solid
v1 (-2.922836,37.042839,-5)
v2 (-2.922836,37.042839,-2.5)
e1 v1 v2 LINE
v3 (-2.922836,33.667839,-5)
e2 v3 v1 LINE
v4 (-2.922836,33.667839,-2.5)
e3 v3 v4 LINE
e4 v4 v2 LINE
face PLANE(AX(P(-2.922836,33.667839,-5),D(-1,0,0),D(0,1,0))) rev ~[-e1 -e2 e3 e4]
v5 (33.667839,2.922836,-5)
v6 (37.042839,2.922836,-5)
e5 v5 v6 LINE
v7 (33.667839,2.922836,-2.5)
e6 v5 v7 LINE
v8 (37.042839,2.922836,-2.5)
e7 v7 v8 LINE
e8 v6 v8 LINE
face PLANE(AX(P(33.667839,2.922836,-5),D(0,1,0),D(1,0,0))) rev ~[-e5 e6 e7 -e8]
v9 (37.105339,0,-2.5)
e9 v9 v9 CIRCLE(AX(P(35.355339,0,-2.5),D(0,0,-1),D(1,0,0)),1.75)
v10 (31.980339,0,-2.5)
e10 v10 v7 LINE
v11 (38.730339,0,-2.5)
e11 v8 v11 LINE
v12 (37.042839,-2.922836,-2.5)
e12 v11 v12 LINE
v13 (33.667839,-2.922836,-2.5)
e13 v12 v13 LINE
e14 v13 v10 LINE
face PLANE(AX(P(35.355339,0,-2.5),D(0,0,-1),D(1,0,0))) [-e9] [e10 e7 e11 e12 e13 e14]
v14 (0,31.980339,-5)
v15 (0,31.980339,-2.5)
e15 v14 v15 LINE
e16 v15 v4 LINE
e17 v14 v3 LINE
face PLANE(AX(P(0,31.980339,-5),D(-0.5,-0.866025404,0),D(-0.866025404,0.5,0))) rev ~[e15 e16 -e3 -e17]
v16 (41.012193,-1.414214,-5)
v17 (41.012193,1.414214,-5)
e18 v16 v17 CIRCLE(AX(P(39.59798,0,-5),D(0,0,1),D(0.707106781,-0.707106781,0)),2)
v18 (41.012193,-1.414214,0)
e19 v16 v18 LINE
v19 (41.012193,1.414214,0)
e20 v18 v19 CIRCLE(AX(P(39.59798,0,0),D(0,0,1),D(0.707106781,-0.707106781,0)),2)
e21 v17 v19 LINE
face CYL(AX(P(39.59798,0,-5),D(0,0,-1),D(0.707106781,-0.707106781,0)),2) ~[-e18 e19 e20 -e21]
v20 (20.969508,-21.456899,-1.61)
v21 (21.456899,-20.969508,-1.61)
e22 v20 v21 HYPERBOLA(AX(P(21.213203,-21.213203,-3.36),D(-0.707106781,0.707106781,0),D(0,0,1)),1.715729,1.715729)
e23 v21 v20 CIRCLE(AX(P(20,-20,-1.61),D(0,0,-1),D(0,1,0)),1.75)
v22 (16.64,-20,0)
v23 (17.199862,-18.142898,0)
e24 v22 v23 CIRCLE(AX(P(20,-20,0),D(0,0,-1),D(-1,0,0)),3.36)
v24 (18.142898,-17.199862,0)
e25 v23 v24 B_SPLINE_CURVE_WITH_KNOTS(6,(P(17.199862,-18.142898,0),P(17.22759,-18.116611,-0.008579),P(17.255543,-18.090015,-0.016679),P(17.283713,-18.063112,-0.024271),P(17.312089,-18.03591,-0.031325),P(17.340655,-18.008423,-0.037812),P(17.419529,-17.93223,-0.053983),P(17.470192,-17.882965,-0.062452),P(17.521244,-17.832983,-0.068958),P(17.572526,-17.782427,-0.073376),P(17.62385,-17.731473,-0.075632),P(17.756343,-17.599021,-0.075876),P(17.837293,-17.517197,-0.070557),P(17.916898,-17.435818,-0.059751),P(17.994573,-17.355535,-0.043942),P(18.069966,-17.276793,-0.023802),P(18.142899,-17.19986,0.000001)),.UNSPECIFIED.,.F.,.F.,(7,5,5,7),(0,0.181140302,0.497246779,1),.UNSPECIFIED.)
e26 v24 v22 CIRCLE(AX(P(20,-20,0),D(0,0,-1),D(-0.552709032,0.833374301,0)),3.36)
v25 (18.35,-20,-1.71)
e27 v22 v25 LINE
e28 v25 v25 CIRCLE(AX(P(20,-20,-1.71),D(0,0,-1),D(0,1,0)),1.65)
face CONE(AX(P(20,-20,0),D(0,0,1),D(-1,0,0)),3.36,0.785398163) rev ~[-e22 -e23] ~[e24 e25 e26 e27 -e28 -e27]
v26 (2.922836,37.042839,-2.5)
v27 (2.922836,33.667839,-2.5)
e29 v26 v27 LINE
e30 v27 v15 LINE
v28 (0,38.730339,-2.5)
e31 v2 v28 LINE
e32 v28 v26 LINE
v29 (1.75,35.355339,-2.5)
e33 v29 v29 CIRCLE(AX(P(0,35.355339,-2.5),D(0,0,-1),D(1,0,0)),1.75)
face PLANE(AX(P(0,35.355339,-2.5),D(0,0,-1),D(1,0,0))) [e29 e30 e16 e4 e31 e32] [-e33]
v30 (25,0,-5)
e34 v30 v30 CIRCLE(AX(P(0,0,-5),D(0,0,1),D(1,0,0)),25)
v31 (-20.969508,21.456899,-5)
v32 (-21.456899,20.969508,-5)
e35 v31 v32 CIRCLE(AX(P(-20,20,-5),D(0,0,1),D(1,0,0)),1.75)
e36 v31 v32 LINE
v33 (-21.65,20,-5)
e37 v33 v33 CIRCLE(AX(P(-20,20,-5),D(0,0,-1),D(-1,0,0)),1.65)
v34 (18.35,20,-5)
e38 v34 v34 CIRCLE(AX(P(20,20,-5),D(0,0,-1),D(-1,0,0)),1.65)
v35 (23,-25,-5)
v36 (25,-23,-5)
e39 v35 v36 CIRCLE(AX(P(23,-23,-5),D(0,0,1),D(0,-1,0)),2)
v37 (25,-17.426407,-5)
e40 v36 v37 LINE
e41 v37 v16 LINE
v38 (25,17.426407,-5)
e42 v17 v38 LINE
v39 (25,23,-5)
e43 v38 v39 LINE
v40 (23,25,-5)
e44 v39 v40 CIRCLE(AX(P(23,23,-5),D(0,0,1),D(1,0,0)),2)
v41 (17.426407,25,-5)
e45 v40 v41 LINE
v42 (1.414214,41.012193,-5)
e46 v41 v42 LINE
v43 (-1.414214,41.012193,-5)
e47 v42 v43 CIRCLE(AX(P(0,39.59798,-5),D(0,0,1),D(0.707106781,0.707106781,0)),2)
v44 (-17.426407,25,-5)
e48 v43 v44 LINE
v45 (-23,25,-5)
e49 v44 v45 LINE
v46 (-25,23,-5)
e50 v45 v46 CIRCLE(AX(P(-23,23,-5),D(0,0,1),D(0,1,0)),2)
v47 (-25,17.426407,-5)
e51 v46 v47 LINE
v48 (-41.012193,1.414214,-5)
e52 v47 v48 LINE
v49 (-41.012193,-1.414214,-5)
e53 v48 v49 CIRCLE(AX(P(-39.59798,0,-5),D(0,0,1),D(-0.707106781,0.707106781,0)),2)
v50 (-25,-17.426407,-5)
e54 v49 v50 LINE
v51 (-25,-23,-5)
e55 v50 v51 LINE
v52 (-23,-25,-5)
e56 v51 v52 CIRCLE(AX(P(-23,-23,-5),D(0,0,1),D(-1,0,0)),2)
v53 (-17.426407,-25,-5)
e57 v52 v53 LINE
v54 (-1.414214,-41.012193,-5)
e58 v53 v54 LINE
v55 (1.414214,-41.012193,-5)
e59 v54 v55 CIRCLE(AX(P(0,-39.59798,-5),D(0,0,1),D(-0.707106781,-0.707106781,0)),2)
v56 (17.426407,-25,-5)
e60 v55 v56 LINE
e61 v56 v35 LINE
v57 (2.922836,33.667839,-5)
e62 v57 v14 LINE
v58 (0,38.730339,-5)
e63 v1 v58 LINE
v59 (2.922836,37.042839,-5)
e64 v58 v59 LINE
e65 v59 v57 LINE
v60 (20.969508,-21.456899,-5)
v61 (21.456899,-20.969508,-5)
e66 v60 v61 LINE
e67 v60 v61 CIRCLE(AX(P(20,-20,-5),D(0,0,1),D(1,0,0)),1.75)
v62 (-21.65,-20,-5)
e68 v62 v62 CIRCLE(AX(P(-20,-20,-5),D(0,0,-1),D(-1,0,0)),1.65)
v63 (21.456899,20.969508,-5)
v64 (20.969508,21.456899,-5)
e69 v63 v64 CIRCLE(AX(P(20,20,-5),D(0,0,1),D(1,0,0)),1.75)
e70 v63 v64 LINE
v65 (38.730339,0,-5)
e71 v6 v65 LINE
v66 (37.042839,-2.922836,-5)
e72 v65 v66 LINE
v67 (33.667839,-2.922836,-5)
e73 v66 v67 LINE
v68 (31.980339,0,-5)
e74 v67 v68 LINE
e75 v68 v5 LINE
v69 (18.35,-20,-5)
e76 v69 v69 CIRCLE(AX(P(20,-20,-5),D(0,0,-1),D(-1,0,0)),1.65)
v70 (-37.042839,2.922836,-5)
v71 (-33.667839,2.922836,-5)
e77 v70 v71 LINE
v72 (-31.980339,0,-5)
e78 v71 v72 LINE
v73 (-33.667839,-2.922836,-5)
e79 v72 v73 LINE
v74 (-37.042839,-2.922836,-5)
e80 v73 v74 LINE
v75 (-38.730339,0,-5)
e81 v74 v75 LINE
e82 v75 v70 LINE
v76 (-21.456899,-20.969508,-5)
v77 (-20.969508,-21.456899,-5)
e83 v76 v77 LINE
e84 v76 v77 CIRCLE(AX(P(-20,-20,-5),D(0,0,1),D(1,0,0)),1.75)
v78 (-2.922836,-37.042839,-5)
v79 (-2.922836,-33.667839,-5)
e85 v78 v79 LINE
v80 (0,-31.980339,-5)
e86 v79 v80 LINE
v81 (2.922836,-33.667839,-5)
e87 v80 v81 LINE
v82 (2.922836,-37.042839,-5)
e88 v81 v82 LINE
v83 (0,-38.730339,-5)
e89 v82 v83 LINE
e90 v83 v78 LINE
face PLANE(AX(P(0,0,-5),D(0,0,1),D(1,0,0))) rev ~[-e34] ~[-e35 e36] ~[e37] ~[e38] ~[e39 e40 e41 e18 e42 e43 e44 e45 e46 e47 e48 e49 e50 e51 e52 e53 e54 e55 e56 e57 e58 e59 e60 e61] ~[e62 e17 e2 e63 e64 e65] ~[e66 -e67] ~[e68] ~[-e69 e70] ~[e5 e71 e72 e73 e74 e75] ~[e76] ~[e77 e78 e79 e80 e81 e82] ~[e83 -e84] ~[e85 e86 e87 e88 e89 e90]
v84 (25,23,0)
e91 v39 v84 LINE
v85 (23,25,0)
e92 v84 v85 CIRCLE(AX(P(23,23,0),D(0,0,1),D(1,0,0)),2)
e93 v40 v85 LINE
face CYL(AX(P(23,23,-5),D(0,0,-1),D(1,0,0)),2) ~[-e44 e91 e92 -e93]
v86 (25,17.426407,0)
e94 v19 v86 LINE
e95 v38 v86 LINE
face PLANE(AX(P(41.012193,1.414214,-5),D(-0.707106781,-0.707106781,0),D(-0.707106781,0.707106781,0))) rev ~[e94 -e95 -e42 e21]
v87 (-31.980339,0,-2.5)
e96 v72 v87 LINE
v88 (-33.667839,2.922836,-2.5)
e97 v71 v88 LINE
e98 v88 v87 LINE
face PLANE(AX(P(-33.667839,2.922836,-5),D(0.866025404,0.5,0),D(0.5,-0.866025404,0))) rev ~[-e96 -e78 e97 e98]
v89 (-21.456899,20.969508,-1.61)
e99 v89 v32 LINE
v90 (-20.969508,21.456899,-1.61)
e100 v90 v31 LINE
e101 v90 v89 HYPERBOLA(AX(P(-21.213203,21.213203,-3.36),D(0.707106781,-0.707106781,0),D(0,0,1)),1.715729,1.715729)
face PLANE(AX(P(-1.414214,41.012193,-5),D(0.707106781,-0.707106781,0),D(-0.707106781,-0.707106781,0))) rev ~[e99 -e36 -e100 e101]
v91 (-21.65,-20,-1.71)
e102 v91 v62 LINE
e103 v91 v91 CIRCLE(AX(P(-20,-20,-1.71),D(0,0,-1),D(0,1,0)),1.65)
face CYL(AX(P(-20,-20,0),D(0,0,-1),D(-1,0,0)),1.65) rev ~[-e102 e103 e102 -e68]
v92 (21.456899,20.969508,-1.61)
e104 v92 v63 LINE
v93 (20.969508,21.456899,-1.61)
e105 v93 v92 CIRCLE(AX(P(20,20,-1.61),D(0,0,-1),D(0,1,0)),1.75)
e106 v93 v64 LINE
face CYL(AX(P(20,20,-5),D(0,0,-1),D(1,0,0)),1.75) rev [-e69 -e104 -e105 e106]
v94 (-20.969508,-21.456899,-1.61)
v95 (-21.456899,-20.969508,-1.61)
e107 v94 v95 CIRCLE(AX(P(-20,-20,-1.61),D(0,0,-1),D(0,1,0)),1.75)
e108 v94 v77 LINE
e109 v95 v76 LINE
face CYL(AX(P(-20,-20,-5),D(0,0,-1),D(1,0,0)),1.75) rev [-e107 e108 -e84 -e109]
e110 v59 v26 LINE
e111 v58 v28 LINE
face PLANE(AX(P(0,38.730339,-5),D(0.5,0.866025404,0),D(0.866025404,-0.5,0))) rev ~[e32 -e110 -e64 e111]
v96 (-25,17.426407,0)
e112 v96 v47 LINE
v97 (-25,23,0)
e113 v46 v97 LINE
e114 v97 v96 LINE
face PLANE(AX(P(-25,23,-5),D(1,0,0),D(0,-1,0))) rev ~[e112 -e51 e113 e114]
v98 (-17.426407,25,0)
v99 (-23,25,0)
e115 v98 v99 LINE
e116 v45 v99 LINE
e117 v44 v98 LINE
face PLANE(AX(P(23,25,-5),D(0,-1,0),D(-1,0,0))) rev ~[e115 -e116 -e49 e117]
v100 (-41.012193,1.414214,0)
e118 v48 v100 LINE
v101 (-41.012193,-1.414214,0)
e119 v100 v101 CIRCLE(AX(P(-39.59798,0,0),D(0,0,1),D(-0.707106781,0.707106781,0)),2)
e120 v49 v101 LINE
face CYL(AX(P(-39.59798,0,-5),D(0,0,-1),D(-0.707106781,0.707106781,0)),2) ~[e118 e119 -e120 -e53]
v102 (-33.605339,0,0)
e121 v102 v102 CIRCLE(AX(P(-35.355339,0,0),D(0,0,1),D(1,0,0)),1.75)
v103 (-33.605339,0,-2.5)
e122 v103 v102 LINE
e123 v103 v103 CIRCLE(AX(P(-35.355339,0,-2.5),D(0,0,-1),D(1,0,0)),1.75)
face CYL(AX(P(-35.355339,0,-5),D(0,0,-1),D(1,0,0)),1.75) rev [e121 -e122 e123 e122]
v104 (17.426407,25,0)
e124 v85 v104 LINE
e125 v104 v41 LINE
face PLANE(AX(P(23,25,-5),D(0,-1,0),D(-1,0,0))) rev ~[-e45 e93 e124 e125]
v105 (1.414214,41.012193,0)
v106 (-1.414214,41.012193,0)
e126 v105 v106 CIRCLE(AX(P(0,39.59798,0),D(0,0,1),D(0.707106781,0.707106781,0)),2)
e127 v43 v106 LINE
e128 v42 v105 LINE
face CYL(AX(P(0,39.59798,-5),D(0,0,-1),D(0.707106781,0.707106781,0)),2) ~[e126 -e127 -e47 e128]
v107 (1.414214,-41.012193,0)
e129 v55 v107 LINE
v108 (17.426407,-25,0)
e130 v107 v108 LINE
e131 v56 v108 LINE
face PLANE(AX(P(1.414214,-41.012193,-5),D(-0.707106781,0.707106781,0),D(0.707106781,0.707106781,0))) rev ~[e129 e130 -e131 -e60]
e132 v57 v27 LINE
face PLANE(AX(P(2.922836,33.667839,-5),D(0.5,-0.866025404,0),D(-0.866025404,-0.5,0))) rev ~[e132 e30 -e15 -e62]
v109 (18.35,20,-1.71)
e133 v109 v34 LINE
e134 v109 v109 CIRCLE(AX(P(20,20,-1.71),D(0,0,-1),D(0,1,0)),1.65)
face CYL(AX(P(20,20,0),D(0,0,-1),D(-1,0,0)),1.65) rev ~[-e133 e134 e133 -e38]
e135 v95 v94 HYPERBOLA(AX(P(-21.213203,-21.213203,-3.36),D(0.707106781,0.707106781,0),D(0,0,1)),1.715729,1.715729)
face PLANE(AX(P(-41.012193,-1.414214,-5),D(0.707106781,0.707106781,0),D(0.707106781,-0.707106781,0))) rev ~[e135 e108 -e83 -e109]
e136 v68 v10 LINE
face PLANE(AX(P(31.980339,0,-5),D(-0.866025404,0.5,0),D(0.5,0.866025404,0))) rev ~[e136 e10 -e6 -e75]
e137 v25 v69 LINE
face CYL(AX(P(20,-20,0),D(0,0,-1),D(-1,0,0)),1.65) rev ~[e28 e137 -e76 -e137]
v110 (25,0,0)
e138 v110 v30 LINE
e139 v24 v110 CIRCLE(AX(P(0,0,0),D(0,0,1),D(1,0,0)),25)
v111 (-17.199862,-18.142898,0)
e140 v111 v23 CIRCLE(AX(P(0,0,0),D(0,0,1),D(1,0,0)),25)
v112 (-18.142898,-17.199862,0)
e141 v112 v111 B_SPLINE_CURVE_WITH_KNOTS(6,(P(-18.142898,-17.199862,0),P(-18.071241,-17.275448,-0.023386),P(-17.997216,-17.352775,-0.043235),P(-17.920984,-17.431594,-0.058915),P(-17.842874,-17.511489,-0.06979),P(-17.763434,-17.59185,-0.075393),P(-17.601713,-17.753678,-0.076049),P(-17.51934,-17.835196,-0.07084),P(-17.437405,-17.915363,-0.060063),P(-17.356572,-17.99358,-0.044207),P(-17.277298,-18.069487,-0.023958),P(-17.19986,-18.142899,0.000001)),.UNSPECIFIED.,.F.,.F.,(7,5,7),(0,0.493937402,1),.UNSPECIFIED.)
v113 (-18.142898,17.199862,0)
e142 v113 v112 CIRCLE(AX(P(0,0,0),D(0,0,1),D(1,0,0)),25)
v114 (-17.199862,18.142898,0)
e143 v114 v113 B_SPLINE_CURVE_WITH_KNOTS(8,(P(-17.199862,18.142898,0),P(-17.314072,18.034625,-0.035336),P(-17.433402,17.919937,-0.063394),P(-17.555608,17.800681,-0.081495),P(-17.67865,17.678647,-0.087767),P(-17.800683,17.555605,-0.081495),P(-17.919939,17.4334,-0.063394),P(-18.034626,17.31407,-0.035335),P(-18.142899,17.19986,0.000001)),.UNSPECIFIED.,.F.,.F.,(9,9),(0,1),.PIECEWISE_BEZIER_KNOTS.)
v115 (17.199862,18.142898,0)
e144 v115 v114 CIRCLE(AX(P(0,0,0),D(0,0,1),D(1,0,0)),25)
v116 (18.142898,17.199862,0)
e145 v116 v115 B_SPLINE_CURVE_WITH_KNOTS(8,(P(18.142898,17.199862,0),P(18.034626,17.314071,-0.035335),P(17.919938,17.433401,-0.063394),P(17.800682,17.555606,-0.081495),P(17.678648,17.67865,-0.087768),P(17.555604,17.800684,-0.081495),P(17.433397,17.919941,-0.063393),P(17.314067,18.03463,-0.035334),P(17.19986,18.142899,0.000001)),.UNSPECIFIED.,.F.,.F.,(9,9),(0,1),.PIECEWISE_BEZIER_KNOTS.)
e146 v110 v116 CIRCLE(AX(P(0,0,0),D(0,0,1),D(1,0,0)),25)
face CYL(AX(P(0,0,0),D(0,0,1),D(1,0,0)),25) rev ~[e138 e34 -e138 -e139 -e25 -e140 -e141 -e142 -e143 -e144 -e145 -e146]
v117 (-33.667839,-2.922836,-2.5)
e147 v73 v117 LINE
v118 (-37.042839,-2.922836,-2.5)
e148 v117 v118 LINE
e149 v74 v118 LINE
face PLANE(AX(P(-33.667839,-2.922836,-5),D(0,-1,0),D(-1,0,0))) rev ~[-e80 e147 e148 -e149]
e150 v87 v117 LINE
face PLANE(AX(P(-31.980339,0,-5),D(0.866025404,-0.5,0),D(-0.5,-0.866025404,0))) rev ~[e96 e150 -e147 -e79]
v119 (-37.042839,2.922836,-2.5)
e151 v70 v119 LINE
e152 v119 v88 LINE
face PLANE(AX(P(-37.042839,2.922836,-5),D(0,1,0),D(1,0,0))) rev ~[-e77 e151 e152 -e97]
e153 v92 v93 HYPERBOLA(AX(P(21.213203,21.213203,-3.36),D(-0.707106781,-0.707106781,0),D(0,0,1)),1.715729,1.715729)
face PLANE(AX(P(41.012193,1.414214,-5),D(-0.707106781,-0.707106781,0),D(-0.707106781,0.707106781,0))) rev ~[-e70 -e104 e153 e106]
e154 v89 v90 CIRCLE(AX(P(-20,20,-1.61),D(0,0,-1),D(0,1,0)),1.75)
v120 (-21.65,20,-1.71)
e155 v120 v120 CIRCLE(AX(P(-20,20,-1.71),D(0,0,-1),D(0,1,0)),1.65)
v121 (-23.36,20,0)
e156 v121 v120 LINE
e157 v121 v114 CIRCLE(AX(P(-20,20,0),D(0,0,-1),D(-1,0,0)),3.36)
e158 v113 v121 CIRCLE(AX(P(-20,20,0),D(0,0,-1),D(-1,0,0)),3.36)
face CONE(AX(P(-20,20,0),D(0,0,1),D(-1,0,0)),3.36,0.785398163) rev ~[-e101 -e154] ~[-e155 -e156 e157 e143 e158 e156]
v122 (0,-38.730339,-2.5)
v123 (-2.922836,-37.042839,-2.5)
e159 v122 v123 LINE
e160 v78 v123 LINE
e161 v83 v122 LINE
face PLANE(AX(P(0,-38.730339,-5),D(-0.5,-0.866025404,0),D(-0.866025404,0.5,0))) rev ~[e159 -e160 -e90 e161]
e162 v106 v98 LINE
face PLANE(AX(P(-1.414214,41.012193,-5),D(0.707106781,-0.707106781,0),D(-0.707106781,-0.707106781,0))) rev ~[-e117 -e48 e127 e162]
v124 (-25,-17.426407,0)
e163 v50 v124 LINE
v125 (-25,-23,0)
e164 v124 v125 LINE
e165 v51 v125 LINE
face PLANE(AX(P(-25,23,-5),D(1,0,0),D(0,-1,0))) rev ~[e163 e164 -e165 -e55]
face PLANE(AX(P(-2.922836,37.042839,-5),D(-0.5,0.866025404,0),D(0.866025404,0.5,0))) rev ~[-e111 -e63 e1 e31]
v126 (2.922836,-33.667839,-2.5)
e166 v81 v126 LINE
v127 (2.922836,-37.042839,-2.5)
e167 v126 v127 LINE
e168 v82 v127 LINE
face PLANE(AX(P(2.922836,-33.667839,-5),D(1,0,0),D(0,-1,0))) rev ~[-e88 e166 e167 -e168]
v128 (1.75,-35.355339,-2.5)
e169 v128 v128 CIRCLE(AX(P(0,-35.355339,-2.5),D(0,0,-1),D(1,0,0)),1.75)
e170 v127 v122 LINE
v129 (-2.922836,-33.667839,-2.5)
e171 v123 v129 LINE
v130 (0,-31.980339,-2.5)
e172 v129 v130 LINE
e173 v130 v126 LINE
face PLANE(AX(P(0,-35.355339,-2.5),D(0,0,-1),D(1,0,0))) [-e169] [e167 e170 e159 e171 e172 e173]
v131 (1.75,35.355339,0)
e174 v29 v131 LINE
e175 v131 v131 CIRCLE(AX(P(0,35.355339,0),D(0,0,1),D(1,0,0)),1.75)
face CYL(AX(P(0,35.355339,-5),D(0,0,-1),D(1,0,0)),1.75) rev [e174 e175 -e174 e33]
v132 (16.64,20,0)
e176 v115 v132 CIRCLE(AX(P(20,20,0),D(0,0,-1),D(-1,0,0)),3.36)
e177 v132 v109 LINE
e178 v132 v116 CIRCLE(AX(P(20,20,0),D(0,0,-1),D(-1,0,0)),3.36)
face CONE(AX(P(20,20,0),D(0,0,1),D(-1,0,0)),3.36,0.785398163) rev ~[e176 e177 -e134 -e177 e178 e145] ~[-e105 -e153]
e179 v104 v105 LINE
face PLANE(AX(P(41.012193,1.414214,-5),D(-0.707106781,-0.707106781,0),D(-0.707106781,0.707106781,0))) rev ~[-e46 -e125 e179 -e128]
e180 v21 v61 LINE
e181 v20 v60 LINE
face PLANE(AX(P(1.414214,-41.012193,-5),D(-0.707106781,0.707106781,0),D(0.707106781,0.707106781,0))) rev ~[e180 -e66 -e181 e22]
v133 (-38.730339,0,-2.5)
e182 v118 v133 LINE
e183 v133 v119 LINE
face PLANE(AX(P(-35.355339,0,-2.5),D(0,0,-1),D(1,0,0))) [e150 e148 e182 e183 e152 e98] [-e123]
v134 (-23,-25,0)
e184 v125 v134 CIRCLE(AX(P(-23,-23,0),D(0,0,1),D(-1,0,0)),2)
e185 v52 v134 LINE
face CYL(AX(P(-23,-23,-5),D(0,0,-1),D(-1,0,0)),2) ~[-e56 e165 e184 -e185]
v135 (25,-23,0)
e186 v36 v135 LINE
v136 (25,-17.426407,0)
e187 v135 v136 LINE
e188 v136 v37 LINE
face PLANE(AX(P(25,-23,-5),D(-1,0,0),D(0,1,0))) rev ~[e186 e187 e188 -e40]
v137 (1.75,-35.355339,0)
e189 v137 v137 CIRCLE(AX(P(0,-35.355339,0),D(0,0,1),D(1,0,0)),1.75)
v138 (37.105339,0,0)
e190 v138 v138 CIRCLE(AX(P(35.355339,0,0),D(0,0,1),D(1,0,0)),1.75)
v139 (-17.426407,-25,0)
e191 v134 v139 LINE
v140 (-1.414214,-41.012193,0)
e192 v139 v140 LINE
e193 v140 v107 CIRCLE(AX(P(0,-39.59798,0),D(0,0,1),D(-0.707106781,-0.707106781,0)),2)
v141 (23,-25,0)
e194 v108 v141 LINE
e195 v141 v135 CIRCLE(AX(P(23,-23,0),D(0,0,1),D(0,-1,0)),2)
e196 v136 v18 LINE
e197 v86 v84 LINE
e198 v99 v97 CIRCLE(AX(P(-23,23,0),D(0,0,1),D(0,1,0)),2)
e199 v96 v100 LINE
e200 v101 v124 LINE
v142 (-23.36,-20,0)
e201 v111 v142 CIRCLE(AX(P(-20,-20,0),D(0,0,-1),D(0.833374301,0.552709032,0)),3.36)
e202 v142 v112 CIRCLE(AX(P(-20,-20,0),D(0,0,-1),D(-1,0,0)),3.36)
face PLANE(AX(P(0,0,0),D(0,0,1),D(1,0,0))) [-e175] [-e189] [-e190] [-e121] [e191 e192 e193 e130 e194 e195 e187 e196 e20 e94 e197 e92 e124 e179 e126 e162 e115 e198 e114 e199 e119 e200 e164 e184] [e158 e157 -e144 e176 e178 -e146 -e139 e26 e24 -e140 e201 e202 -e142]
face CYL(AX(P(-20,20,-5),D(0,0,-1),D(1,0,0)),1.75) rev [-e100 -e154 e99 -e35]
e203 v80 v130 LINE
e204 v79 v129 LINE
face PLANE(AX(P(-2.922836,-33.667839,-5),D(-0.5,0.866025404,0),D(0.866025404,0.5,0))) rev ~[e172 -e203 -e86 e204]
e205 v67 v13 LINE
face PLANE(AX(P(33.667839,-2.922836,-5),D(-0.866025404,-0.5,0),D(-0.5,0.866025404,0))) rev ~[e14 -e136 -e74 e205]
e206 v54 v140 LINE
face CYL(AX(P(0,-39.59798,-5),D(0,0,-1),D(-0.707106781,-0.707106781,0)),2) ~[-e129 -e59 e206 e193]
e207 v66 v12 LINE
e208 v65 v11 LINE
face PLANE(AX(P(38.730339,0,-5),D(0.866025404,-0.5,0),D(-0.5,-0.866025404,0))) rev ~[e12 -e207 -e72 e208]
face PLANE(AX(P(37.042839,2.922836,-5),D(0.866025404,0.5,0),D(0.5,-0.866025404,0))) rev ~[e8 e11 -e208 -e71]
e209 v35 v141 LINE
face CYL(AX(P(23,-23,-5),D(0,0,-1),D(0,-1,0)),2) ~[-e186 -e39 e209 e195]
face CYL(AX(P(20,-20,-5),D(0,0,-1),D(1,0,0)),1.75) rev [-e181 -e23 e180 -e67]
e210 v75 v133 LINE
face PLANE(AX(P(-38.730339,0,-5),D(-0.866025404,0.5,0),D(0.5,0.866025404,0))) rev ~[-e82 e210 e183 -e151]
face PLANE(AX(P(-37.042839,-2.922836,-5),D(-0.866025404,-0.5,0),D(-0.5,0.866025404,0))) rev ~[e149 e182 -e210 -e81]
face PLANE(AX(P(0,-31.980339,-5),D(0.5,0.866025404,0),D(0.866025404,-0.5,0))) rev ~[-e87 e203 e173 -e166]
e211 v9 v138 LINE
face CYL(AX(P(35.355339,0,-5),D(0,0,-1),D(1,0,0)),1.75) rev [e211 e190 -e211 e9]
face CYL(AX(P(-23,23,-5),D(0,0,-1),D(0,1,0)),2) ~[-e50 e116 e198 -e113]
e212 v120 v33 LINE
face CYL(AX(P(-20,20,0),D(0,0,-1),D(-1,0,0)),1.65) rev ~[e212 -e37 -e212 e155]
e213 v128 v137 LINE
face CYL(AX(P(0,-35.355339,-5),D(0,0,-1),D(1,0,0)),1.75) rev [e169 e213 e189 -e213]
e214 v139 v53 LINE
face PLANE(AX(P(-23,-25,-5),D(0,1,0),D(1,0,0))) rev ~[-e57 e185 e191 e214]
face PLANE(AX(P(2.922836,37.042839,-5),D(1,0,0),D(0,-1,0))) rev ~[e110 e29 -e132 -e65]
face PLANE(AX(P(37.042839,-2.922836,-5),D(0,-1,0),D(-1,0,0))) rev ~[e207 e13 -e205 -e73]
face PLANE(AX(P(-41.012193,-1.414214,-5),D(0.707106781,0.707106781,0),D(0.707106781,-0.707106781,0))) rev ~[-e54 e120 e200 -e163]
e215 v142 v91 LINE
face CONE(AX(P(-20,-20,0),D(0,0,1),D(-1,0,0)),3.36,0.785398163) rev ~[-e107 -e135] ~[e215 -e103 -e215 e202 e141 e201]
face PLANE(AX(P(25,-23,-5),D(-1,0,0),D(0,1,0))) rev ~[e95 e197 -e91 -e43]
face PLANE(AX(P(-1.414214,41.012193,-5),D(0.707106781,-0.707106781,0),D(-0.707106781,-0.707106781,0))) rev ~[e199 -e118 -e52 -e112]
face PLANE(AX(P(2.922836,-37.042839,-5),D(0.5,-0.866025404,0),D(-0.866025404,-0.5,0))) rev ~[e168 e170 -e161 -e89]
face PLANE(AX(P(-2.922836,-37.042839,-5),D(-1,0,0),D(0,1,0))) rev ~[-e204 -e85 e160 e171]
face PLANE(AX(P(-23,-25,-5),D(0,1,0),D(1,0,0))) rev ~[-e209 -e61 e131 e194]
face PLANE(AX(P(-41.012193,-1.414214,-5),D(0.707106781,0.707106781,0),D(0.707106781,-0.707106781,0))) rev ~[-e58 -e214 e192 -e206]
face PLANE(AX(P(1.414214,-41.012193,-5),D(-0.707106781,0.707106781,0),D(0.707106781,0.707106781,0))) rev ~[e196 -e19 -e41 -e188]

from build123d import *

# Parameters (mm, degrees)
F1_R           = 1.75
F2_DEPTH       = 5
F3_R           = 1.75
F4_DEPTH       = 5
F6_R           = 25
F7_DEPTH       = 5.001
F9_D           = 3.3
F9_CSINK_D     = 6.72
F9_CSINK_ANGLE = 90
F10_R          = 1.75
F11_DEPTH      = 2.5


with BuildPart() as f2:
    # F1 (on Top) → F2 (new body)
    with BuildSketch(Plane.XY):
        with BuildLine():
            Line((-1.4142135624, 41.0121933088), (-41.0121933088, 1.4142135624))
            ThreePointArc((-41.0121933088, 1.4142135624), (-41.5979797464, 0), (-41.0121933088, -1.4142135624))
            Line((-41.0121933088, -1.4142135624), (-1.4142135624, -41.0121933088))
            ThreePointArc((-1.4142135624, -41.0121933088), (0, -41.5979797464), (1.4142135624, -41.0121933088))
            Line((1.4142135624, -41.0121933088), (41.0121933088, -1.4142135624))
            ThreePointArc((41.0121933088, -1.4142135624), (41.5979797464, 0), (41.0121933088, 1.4142135624))
            Line((41.0121933088, 1.4142135624), (1.4142135624, 41.0121933088))
            ThreePointArc((1.4142135624, 41.0121933088), (0, 41.5979797464), (-1.4142135624, 41.0121933088))
        make_face()
        with Locations((0, -35.3553390593)):
            Circle(F1_R, mode=Mode.SUBTRACT)
        with Locations((-35.3553390593, 0)):
            Circle(F1_R, mode=Mode.SUBTRACT)
        with Locations((35.3553390593, 0)):
            Circle(F1_R, mode=Mode.SUBTRACT)
        with Locations((0, 35.3553390593)):
            Circle(F1_R, mode=Mode.SUBTRACT)
    extrude(amount=F2_DEPTH)


with BuildPart() as f4:
    # F3 (on Top) → F4 (new body)
    with BuildSketch(Plane.XY):
        with BuildLine():
            Line((23, 25), (-23, 25))
            ThreePointArc((-23, 25), (-24.4142135624, 24.4142135624), (-25, 23))
            Line((-25, 23), (-25, -23))
            ThreePointArc((-25, -23), (-24.4142135624, -24.4142135624), (-23, -25))
            Line((-23, -25), (23, -25))
            ThreePointArc((23, -25), (24.4142135624, -24.4142135624), (25, -23))
            Line((25, -23), (25, 23))
            ThreePointArc((25, 23), (24.4142135624, 24.4142135624), (23, 25))
        make_face()
        with Locations((-20, -20)):
            Circle(F3_R, mode=Mode.SUBTRACT)
        with Locations((20, -20)):
            Circle(F3_R, mode=Mode.SUBTRACT)
        with Locations((-20, 20)):
            Circle(F3_R, mode=Mode.SUBTRACT)
        with Locations((20, 20)):
            Circle(F3_R, mode=Mode.SUBTRACT)
    extrude(amount=F4_DEPTH)

    # F5: union F2
    add(f2.part)

    # F6 (on face) → F7 (cut, through all)
    with BuildSketch(Plane.XY.offset(5)):
        Circle(F6_R)
    extrude(amount=-F7_DEPTH, mode=Mode.SUBTRACT)


with BuildPart() as f4_1:
    # F8: moved
    add(f4.part.moved(Location((0, 0, -5))))

    # F9 (through all)
    with Locations(Plane.XY):
        with Locations((-20, -20), (20, 20), (20, -20), (-20, 20)):
            CounterSinkHole(F9_D / 2, F9_CSINK_D / 2, counter_sink_angle=F9_CSINK_ANGLE)

    # F10 (on face) → F11 (cut)
    with BuildSketch(Plane(origin=(0, 0, -5), x_dir=(1, 0, 0), z_dir=(0, 0, -1))):
        Polygon((37.0428390593, 2.9228357378), (33.6678390593, 2.9228357378), (31.9803390593, 0), (33.6678390593, -2.9228357378), (37.0428390593, -2.9228357378), (38.7303390593, 0), align=None)
        with Locations((35.3553390593, 0)):
            Circle(F10_R, mode=Mode.SUBTRACT)
        Polygon((-2.9228357378, 33.6678390593), (0, 31.9803390593), (2.9228357378, 33.6678390593), (2.9228357378, 37.0428390593), (0, 38.7303390593), (-2.9228357378, 37.0428390593), align=None)
        with Locations((0, 35.3553390593)):
            Circle(F10_R, mode=Mode.SUBTRACT)
        Polygon((0, -38.7303390593), (2.9228357378, -37.0428390593), (2.9228357378, -33.6678390593), (0, -31.9803390593), (-2.9228357378, -33.6678390593), (-2.9228357378, -37.0428390593), align=None)
        with Locations((0, -35.3553390593)):
            Circle(F10_R, mode=Mode.SUBTRACT)
        Polygon((-38.7303390593, 0), (-37.0428390593, -2.9228357378), (-33.6678390593, -2.9228357378), (-31.9803390593, 0), (-33.6678390593, 2.9228357378), (-37.0428390593, 2.9228357378), align=None)
        with Locations((-35.3553390593, 0)):
            Circle(F10_R, mode=Mode.SUBTRACT)
    extrude(amount=-F11_DEPTH, mode=Mode.SUBTRACT)


solid = f4_1.part
